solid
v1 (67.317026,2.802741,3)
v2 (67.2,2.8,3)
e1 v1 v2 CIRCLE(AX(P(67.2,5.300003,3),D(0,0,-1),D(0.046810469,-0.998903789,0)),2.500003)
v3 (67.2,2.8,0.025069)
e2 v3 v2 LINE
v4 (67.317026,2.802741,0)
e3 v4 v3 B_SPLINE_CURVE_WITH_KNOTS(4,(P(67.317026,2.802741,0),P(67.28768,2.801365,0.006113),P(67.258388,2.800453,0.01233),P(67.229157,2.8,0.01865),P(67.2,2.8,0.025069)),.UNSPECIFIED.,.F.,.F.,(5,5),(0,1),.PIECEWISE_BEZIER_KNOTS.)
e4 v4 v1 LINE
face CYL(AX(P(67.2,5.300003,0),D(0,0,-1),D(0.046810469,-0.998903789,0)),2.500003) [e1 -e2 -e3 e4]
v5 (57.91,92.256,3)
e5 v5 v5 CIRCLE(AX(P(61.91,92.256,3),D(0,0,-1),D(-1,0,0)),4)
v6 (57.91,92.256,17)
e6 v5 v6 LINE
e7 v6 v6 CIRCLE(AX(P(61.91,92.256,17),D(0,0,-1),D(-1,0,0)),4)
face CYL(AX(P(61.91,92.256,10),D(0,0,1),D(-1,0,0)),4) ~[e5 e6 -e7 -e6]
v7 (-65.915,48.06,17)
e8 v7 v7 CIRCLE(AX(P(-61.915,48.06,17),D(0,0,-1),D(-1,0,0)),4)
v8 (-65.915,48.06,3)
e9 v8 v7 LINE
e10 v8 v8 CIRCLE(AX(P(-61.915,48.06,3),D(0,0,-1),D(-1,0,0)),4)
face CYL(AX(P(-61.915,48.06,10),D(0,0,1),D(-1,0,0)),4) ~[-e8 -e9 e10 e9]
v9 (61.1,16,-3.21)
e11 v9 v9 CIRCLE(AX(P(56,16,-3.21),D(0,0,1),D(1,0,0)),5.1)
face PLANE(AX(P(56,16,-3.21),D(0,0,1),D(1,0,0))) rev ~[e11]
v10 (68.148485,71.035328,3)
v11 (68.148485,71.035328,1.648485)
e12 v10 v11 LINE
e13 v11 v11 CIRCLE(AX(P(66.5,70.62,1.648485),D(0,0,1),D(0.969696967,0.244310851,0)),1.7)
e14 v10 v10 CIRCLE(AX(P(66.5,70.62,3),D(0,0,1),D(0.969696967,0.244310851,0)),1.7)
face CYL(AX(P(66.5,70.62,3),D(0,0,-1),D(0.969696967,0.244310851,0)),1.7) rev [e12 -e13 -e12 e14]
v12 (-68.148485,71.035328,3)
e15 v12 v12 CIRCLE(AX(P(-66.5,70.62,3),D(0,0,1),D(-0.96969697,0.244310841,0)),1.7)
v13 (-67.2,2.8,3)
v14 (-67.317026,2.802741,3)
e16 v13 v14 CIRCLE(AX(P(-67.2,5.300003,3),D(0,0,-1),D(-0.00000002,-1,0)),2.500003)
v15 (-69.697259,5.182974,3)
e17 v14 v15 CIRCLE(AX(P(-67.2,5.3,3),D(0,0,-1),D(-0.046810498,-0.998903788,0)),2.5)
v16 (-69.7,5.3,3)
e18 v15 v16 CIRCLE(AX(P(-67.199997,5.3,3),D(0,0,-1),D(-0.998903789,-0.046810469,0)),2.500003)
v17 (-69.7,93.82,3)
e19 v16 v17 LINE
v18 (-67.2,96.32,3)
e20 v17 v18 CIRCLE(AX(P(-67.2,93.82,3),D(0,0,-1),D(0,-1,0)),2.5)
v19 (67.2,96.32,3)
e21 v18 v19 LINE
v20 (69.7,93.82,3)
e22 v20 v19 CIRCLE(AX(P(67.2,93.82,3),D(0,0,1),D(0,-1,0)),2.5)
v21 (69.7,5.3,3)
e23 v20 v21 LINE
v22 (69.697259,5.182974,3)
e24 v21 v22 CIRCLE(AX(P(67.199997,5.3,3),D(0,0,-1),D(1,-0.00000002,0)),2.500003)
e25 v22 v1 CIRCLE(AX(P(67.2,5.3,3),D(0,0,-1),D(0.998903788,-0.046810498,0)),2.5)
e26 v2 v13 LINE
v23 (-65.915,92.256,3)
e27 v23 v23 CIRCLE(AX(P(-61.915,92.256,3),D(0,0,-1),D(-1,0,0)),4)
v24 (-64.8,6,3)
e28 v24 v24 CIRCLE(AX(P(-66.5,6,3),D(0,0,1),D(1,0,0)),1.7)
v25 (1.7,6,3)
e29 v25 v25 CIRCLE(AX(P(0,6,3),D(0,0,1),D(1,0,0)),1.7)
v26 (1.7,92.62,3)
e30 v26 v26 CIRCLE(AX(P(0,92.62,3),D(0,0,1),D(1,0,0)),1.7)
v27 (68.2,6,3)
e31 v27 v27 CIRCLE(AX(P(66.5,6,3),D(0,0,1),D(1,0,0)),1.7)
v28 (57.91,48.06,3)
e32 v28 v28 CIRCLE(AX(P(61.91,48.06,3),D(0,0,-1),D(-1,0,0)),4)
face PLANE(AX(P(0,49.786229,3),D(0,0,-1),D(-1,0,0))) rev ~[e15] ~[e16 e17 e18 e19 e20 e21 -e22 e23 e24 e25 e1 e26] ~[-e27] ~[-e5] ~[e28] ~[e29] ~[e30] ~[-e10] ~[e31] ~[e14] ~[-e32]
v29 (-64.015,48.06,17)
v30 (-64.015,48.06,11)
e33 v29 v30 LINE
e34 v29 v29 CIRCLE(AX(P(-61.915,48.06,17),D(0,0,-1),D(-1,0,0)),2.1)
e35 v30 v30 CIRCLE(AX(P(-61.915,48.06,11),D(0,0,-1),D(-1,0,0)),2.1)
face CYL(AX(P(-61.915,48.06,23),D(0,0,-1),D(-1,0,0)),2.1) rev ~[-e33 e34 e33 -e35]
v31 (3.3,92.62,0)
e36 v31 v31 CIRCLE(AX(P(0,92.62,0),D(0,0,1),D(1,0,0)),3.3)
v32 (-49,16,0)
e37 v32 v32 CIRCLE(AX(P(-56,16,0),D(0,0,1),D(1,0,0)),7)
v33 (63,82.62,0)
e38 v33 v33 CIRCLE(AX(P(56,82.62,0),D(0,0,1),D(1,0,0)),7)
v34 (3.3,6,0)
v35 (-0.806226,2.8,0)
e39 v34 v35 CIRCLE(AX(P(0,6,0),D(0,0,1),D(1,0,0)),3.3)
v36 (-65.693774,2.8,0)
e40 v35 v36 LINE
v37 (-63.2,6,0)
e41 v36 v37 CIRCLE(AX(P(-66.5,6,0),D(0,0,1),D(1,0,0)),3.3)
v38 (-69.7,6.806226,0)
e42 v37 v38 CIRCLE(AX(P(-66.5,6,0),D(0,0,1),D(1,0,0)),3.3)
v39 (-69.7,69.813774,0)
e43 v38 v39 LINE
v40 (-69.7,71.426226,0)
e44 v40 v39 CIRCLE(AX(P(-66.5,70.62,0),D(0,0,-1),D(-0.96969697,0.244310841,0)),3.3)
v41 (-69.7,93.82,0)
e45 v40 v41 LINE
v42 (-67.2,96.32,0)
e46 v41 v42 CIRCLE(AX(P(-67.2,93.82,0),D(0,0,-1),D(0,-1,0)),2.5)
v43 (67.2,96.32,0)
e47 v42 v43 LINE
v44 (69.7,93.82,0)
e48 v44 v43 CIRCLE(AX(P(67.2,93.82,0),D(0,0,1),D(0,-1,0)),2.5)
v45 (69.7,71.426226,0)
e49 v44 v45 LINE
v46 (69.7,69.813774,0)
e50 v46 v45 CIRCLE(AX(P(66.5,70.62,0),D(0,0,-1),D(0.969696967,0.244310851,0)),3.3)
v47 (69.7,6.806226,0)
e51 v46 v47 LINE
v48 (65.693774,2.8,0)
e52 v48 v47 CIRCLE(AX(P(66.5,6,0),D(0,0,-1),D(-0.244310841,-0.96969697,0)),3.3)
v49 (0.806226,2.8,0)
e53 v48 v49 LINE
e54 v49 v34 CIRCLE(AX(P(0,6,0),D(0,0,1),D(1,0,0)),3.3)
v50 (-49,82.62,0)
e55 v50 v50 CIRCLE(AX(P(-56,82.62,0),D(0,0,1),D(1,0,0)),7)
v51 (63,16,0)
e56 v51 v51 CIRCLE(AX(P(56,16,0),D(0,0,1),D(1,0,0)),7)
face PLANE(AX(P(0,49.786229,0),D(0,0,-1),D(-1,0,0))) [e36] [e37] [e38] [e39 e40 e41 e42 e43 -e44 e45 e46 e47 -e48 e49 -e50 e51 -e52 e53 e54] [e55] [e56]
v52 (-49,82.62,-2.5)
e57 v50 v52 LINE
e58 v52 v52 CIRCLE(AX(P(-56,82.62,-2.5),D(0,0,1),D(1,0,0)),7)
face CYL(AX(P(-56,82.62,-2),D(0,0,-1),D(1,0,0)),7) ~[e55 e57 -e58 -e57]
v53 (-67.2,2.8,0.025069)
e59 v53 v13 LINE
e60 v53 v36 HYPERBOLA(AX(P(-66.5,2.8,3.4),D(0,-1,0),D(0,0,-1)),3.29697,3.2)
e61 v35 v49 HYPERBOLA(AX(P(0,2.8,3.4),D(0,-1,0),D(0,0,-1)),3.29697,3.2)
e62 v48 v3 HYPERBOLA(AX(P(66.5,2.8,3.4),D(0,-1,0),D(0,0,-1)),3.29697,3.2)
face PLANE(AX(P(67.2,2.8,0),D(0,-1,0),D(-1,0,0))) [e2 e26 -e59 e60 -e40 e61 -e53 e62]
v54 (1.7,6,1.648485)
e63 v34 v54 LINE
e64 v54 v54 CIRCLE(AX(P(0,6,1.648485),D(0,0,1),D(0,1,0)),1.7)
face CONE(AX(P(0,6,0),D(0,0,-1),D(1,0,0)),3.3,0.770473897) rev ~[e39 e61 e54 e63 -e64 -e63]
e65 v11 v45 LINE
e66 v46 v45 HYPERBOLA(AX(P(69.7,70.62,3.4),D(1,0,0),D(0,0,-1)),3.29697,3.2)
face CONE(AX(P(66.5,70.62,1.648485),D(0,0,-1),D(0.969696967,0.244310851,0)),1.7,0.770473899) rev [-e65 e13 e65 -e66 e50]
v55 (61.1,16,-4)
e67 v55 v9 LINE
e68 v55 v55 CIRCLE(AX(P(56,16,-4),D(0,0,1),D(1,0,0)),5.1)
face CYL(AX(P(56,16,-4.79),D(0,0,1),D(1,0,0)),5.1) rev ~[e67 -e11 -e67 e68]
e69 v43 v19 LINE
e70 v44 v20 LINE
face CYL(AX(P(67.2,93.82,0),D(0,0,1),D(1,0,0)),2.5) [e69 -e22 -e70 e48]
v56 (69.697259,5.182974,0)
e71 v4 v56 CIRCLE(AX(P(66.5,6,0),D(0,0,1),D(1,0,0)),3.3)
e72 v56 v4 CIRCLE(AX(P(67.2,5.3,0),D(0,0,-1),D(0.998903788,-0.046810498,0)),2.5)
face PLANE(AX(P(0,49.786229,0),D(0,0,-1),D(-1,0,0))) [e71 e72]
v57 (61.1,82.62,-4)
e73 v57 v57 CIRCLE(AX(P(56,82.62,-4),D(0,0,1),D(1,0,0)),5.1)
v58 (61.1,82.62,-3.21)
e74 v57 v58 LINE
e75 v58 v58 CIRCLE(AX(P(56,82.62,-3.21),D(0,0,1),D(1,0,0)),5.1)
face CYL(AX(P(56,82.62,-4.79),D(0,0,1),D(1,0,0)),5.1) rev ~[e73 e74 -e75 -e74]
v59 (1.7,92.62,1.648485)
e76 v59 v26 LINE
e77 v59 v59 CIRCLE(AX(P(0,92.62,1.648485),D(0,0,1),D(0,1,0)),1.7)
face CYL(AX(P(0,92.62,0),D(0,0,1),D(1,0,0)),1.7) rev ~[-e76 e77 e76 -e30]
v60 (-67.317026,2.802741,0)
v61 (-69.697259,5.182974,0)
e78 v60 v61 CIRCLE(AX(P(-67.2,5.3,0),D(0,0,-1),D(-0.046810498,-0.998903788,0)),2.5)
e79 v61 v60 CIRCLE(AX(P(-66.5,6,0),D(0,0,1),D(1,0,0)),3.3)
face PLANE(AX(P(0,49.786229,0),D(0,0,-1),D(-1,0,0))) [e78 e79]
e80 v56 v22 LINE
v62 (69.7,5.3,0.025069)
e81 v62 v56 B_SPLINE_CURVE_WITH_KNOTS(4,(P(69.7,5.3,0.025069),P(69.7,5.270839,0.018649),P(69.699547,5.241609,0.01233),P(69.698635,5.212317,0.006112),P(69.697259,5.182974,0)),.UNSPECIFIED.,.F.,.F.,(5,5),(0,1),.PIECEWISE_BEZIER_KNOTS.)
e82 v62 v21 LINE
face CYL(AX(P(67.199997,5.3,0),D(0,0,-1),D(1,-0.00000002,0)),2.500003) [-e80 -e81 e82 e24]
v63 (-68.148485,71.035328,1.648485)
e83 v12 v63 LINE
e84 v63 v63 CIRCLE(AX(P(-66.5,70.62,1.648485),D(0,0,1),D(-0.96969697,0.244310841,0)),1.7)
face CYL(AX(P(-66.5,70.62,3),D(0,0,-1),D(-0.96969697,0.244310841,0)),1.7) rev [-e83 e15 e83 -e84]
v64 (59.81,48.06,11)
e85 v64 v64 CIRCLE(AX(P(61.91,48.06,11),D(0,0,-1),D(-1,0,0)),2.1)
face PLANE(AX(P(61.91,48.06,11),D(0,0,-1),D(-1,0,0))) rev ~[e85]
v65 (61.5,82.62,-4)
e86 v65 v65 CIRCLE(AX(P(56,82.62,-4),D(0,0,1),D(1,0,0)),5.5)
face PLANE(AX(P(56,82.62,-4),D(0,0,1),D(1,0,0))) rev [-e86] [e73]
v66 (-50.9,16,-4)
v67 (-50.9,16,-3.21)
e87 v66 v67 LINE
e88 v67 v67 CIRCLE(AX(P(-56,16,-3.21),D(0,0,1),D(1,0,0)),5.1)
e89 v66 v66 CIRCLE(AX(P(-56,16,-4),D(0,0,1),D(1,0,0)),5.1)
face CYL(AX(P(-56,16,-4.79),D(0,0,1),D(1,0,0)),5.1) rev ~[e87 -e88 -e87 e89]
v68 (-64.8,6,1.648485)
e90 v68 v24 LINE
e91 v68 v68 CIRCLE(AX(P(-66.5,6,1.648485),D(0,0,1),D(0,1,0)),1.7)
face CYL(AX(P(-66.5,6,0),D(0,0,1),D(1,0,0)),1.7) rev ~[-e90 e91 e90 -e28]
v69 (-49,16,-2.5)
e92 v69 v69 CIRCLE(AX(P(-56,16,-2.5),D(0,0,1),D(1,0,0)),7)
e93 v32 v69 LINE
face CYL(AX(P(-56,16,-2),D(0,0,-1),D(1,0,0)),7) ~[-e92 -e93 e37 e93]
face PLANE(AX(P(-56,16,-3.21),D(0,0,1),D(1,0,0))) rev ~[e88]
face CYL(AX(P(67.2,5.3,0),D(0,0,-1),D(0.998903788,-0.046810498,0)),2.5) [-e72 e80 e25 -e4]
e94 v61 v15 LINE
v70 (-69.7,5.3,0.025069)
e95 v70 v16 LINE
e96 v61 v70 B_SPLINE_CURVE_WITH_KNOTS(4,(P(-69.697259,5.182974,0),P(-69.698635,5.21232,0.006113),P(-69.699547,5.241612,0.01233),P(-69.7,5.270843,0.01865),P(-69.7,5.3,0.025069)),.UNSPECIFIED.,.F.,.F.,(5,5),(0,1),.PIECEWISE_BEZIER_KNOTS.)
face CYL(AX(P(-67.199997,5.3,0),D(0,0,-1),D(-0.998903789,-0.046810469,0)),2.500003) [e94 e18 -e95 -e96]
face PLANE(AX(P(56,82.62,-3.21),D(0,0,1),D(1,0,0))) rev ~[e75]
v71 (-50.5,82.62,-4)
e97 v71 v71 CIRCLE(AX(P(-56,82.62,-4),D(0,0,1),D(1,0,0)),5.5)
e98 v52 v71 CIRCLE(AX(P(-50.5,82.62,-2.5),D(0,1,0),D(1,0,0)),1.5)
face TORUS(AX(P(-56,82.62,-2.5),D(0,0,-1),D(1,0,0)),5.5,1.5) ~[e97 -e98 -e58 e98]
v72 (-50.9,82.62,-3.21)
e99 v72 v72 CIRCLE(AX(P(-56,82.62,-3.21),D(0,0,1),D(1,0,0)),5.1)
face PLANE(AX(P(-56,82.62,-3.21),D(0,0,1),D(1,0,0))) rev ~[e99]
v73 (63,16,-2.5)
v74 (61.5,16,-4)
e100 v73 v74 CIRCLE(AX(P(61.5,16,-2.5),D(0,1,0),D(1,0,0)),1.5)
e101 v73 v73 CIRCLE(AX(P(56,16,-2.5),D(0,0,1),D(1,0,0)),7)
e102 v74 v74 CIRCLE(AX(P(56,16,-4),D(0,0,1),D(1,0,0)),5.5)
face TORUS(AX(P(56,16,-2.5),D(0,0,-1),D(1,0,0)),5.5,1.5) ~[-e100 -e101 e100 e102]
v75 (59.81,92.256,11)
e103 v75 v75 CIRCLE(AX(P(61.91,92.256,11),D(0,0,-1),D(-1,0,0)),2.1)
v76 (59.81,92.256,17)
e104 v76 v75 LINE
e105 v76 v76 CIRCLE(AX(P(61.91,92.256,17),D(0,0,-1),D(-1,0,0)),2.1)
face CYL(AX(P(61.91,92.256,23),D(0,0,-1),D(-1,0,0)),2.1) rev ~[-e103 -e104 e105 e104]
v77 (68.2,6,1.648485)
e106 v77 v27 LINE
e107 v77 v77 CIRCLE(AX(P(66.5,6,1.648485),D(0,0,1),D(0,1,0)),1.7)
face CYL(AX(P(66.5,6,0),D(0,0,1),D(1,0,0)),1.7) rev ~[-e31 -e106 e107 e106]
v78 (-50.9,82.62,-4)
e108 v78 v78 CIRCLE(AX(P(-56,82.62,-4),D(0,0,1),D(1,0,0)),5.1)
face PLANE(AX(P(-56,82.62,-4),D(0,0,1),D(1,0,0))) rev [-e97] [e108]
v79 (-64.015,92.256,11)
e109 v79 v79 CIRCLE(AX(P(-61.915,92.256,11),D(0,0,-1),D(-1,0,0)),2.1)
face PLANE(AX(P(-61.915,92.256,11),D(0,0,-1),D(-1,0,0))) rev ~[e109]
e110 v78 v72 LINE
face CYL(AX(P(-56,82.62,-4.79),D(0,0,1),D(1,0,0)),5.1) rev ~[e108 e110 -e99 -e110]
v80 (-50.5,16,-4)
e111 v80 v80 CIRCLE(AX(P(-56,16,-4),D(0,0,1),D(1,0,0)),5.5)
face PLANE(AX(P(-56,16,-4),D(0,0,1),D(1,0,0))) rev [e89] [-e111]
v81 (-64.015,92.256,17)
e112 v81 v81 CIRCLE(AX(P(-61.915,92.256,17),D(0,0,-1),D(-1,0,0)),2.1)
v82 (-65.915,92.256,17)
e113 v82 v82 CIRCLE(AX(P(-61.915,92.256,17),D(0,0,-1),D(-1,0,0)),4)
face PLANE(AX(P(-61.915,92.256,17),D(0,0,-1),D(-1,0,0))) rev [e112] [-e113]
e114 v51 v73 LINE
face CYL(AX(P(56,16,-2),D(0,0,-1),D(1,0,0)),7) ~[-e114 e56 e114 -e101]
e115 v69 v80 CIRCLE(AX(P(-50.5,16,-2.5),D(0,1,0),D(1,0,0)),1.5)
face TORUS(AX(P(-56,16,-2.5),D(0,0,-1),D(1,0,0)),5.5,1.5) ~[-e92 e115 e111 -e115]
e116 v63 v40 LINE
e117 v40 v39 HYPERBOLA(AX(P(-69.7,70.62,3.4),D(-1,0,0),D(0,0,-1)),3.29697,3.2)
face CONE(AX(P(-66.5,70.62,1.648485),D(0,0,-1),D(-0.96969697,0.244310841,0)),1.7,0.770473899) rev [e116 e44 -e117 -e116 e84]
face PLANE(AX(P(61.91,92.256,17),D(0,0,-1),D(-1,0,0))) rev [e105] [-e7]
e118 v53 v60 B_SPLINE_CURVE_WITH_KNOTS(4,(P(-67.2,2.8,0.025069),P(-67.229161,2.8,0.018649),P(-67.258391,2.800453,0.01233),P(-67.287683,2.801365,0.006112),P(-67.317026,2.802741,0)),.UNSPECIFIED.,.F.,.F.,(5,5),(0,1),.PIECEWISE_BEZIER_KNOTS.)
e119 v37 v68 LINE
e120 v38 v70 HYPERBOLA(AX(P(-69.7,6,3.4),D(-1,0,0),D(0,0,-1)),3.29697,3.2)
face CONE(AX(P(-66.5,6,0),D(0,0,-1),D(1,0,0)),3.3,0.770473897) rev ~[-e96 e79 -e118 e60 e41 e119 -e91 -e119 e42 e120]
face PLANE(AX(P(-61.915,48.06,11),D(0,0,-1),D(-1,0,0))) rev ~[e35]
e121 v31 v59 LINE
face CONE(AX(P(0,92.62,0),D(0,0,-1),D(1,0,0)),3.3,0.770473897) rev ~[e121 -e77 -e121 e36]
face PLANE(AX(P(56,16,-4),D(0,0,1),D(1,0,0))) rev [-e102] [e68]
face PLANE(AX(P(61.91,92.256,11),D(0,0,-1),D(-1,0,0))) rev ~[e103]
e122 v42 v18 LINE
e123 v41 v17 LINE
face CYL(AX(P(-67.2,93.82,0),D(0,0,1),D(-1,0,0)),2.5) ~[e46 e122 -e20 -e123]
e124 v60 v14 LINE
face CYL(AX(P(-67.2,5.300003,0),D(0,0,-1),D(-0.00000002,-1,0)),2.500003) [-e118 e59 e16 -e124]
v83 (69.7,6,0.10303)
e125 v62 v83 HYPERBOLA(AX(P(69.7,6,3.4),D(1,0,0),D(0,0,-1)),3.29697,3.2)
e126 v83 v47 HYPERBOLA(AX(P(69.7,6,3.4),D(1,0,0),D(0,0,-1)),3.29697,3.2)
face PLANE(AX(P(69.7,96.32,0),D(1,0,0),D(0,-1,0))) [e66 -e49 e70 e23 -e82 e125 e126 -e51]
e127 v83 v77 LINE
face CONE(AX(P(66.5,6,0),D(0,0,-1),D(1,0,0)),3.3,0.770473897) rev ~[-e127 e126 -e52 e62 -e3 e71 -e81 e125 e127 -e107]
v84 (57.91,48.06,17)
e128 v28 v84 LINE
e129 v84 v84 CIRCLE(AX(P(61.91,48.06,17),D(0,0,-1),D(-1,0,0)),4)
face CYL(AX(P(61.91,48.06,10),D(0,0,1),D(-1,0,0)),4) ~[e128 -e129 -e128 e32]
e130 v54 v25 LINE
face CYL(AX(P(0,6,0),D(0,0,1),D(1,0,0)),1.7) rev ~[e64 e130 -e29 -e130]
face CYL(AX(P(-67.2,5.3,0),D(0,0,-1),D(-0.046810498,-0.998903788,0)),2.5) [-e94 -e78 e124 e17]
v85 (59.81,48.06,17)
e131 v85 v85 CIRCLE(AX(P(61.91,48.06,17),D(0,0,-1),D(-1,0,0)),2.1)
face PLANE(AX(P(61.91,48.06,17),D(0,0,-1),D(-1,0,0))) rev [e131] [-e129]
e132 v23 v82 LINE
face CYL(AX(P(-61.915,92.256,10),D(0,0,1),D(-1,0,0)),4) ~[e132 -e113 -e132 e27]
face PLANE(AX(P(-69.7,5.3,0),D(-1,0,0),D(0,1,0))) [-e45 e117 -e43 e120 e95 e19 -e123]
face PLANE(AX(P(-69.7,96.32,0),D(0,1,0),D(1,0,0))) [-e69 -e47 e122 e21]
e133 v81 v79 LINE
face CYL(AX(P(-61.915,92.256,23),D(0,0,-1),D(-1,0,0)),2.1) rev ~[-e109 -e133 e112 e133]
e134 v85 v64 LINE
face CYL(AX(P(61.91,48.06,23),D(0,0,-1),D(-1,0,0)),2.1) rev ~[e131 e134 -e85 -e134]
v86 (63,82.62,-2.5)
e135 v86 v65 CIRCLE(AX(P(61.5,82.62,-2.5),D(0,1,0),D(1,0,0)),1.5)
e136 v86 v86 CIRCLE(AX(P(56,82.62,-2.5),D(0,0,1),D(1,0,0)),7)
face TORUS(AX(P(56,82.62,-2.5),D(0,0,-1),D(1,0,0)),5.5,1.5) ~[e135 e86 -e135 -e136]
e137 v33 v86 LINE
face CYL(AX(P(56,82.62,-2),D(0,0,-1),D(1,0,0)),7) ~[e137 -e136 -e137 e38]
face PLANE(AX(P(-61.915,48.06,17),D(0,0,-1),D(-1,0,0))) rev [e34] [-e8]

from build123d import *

# Parameters (mm, degrees)
BOSS_EXTRUDE1_DEPTH                               = 3
SKETCH4_W                                         = 7
SKETCH4_H                                         = 4
SKETCH5_W                                         = 7
SKETCH5_H                                         = 4
SKETCH6_W                                         = 7
SKETCH6_H                                         = 4
SKETCH7_W                                         = 7
SKETCH7_H                                         = 4
SKETCH8_W                                         = 4
SKETCH8_H                                         = 14
SKETCH9_W                                         = 4
SKETCH9_H                                         = 14
SKETCH10_W                                        = 4
SKETCH10_H                                        = 14
SKETCH11_W                                        = 4
SKETCH11_H                                        = 14
CSK_FOR_4_FLAT_HEAD_MACHINE_SCREW_100_D           = 3.4
CSK_FOR_4_FLAT_HEAD_MACHINE_SCREW_100_DEPTH       = 17
CSK_FOR_4_FLAT_HEAD_MACHINE_SCREW_100_CSINK_D     = 6.6
CSK_FOR_4_FLAT_HEAD_MACHINE_SCREW_100_CSINK_ANGLE = 88.289805
F_6_CLEARANCE_HOLE1_D                             = 4.2
F_6_CLEARANCE_HOLE1_DEPTH                         = 6
F_3_8_CLEARANCE_HOLE1_D                           = 10.2
F_3_8_CLEARANCE_HOLE1_DEPTH                       = 0.79
FILLET1_R                                         = 1.5
FILLET2_R                                         = 2.5


with BuildPart() as part:
    # Sketch1 → Boss-Extrude1 (new body)
    with BuildSketch(Plane(origin=(0, 0, 0), x_dir=(-1, 0, 0), z_dir=(0, 0, -1))):
        with BuildLine():
            Line((-69.7, 93.82), (-69.7, 71.426225775))
            Line((-69.7, 71.426225775), (-69.7, 69.813774225))
            Line((-69.7, 69.813774225), (-69.7, 6.806225775))
            Line((-69.7, 6.806225775), (-69.7, 5.3))
            ThreePointArc((-69.7, 5.3), (-69.699314773, 5.241470835), (-69.69725947, 5.182973755))
            ThreePointArc((-69.69725947, 5.182973755), (-68.967766953, 3.532233047), (-67.317026245, 2.80274053))
            ThreePointArc((-67.317026245, 2.80274053), (-67.258529165, 2.800685227), (-67.2, 2.8))
            Line((-67.2, 2.8), (-65.693774225, 2.8))
            Line((-65.693774225, 2.8), (-0.806225775, 2.8))
            Line((-0.806225775, 2.8), (0.806225775, 2.8))
            Line((0.806225775, 2.8), (65.693774225, 2.8))
            Line((65.693774225, 2.8), (67.2, 2.8))
            ThreePointArc((67.2, 2.8), (67.258529165, 2.800685227), (67.317026245, 2.80274053))
            ThreePointArc((67.317026245, 2.80274053), (68.967766953, 3.532233047), (69.69725947, 5.182973755))
            ThreePointArc((69.69725947, 5.182973755), (69.699314773, 5.241470835), (69.7, 5.3))
            Line((69.7, 5.3), (69.7, 6.806225775))
            Line((69.7, 6.806225775), (69.7, 69.813774225))
            Line((69.7, 69.813774225), (69.7, 71.426225775))
            Line((69.7, 71.426225775), (69.7, 93.82))
            Line((69.7, 93.82), (69.7, 96.32))
            Line((69.7, 96.32), (67.2, 96.32))
            Line((67.2, 96.32), (-67.2, 96.32))
            Line((-67.2, 96.32), (-69.7, 96.32))
            Line((-69.7, 96.32), (-69.7, 93.82))
        make_face()
    extrude(amount=-BOSS_EXTRUDE1_DEPTH)

    # Sketch2 → Cut-Revolve1 (revolve, cut)
    with BuildSketch(Plane(origin=(0, 70.62, 0), x_dir=(1, 0, 0), z_dir=(0, 1, 0)), mode=Mode.PRIVATE) as cut_revolve1_sk:
        Polygon((69.800194118, 0.0002), (66.5, 0.0002), (66.5, -3), (68.2, -3), (68.2, -1.648484848), align=None)
    revolve(cut_revolve1_sk.sketch.rotate(Axis((66.5, 70.62, -0.0002), (0, 0, 1)), 14.141110809), axis=Axis((66.5, 70.62, -0.0002), (0, 0, 1)), mode=Mode.SUBTRACT)

    # Sketch3 → Cut-Revolve2 (revolve, cut)
    with BuildSketch(Plane(origin=(0, 70.62, 0), x_dir=(1, 0, 0), z_dir=(0, 1, 0)), mode=Mode.PRIVATE) as cut_revolve2_sk:
        Polygon((-63.199805882, 0.0002), (-66.5, 0.0002), (-66.5, -3), (-64.8, -3), (-64.8, -1.648484848), align=None)
    revolve(cut_revolve2_sk.sketch.rotate(Axis((-66.5, 70.62, -0.0002), (0, 0, 1)), 165.858889766), axis=Axis((-66.5, 70.62, -0.0002), (0, 0, 1)), mode=Mode.SUBTRACT)

    # Sketch4 → Revolve1 (revolve)
    with BuildSketch(Plane(origin=(0, 16, 0), x_dir=(1, 0, 0), z_dir=(0, 1, 0))):
        with Locations((-52.5, 2)):
            Rectangle(SKETCH4_W, SKETCH4_H)
    revolve(axis=Axis((-56, 16, -4.000025), (0, 0, 1)))

    # Sketch5 → Revolve2 (revolve)
    with BuildSketch(Plane(origin=(0, 16, 0), x_dir=(1, 0, 0), z_dir=(0, 1, 0))):
        with Locations((59.5, 2)):
            Rectangle(SKETCH5_W, SKETCH5_H)
    revolve(axis=Axis((56, 16, -4.000025), (0, 0, 1)))

    # Sketch6 → Revolve3 (revolve)
    with BuildSketch(Plane(origin=(0, 82.62, 0), x_dir=(1, 0, 0), z_dir=(0, 1, 0))):
        with Locations((-52.5, 2)):
            Rectangle(SKETCH6_W, SKETCH6_H)
    revolve(axis=Axis((-56, 82.62, -4.000025), (0, 0, 1)))

    # Sketch7 → Revolve4 (revolve)
    with BuildSketch(Plane(origin=(0, 82.62, 0), x_dir=(1, 0, 0), z_dir=(0, 1, 0))):
        with Locations((59.5, 2)):
            Rectangle(SKETCH7_W, SKETCH7_H)
    revolve(axis=Axis((56, 82.62, -4.000025), (0, 0, 1)))

    # Sketch8 → Revolve5 (revolve)
    with BuildSketch(Plane.XZ.offset(-92.256), mode=Mode.PRIVATE) as revolve5_sk:
        with Locations((63.91, 10)):
            Rectangle(SKETCH8_W, SKETCH8_H)
    revolve(revolve5_sk.sketch.rotate(Axis((61.91, 92.256, 17.005), (0, 0, -1)), 180), axis=Axis((61.91, 92.256, 17.005), (0, 0, -1)))

    # Sketch9 → Revolve6 (revolve)
    with BuildSketch(Plane.XZ.offset(-92.256), mode=Mode.PRIVATE) as revolve6_sk:
        with Locations((-59.915, 10)):
            Rectangle(SKETCH9_W, SKETCH9_H)
    revolve(revolve6_sk.sketch.rotate(Axis((-61.915, 92.256, 17.005), (0, 0, -1)), 180), axis=Axis((-61.915, 92.256, 17.005), (0, 0, -1)))

    # Sketch10 → Revolve7 (revolve)
    with BuildSketch(Plane.XZ.offset(-48.06), mode=Mode.PRIVATE) as revolve7_sk:
        with Locations((63.91, 10)):
            Rectangle(SKETCH10_W, SKETCH10_H)
    revolve(revolve7_sk.sketch.rotate(Axis((61.91, 48.06, 17.005), (0, 0, -1)), 180), axis=Axis((61.91, 48.06, 17.005), (0, 0, -1)))

    # Sketch11 → Revolve8 (revolve)
    with BuildSketch(Plane.XZ.offset(-48.06), mode=Mode.PRIVATE) as revolve8_sk:
        with Locations((-59.915, 10)):
            Rectangle(SKETCH11_W, SKETCH11_H)
    revolve(revolve8_sk.sketch.rotate(Axis((-61.915, 48.06, 17.005), (0, 0, -1)), 180), axis=Axis((-61.915, 48.06, 17.005), (0, 0, -1)))

    # CSK for #4 Flat Head Machine Screw (100)1
    with Locations(Plane(origin=(0, 0, 0), x_dir=(-1, 0, 0), z_dir=(0, 0, -1))):
        with Locations((66.5, 6), (0, 6), (-66.5, 6), (0, 92.62)):
            CounterSinkHole(CSK_FOR_4_FLAT_HEAD_MACHINE_SCREW_100_D / 2, CSK_FOR_4_FLAT_HEAD_MACHINE_SCREW_100_CSINK_D / 2, depth=CSK_FOR_4_FLAT_HEAD_MACHINE_SCREW_100_DEPTH, counter_sink_angle=CSK_FOR_4_FLAT_HEAD_MACHINE_SCREW_100_CSINK_ANGLE)

    # #6 Clearance Hole1
    with Locations(Plane.XY.offset(17)):
        with Locations((-61.915, 48.06), (61.91, 48.06), (-61.915, 92.256), (61.91, 92.256)):
            Hole(F_6_CLEARANCE_HOLE1_D / 2, depth=F_6_CLEARANCE_HOLE1_DEPTH)

    # 3/8 Clearance Hole1
    with Locations(Plane(origin=(0, 0, -4), x_dir=(-1, 0, 0), z_dir=(0, 0, -1))):
        with Locations((-56, 82.62), (56, 82.62), (-56, 16), (56, 16)):
            Hole(F_3_8_CLEARANCE_HOLE1_D / 2, depth=F_3_8_CLEARANCE_HOLE1_DEPTH)

    # Fillet1
    fillet1_edges = [part.edges().sort_by_distance(p)[0] for p in [
        (-63, 82.62, -4),
        (49, 82.62, -4),
        (-63, 16, -4),
        (49, 16, -4),
    ]]
    fillet(fillet1_edges, radius=FILLET1_R)

    # Fillet2
    fillet2_edges = [part.edges().sort_by_distance(p)[0] for p in [
        (69.7, 96.32, 1.5),
        (-69.7, 96.32, 1.5),
    ]]
    fillet(fillet2_edges, radius=FILLET2_R)


solid = part.part
